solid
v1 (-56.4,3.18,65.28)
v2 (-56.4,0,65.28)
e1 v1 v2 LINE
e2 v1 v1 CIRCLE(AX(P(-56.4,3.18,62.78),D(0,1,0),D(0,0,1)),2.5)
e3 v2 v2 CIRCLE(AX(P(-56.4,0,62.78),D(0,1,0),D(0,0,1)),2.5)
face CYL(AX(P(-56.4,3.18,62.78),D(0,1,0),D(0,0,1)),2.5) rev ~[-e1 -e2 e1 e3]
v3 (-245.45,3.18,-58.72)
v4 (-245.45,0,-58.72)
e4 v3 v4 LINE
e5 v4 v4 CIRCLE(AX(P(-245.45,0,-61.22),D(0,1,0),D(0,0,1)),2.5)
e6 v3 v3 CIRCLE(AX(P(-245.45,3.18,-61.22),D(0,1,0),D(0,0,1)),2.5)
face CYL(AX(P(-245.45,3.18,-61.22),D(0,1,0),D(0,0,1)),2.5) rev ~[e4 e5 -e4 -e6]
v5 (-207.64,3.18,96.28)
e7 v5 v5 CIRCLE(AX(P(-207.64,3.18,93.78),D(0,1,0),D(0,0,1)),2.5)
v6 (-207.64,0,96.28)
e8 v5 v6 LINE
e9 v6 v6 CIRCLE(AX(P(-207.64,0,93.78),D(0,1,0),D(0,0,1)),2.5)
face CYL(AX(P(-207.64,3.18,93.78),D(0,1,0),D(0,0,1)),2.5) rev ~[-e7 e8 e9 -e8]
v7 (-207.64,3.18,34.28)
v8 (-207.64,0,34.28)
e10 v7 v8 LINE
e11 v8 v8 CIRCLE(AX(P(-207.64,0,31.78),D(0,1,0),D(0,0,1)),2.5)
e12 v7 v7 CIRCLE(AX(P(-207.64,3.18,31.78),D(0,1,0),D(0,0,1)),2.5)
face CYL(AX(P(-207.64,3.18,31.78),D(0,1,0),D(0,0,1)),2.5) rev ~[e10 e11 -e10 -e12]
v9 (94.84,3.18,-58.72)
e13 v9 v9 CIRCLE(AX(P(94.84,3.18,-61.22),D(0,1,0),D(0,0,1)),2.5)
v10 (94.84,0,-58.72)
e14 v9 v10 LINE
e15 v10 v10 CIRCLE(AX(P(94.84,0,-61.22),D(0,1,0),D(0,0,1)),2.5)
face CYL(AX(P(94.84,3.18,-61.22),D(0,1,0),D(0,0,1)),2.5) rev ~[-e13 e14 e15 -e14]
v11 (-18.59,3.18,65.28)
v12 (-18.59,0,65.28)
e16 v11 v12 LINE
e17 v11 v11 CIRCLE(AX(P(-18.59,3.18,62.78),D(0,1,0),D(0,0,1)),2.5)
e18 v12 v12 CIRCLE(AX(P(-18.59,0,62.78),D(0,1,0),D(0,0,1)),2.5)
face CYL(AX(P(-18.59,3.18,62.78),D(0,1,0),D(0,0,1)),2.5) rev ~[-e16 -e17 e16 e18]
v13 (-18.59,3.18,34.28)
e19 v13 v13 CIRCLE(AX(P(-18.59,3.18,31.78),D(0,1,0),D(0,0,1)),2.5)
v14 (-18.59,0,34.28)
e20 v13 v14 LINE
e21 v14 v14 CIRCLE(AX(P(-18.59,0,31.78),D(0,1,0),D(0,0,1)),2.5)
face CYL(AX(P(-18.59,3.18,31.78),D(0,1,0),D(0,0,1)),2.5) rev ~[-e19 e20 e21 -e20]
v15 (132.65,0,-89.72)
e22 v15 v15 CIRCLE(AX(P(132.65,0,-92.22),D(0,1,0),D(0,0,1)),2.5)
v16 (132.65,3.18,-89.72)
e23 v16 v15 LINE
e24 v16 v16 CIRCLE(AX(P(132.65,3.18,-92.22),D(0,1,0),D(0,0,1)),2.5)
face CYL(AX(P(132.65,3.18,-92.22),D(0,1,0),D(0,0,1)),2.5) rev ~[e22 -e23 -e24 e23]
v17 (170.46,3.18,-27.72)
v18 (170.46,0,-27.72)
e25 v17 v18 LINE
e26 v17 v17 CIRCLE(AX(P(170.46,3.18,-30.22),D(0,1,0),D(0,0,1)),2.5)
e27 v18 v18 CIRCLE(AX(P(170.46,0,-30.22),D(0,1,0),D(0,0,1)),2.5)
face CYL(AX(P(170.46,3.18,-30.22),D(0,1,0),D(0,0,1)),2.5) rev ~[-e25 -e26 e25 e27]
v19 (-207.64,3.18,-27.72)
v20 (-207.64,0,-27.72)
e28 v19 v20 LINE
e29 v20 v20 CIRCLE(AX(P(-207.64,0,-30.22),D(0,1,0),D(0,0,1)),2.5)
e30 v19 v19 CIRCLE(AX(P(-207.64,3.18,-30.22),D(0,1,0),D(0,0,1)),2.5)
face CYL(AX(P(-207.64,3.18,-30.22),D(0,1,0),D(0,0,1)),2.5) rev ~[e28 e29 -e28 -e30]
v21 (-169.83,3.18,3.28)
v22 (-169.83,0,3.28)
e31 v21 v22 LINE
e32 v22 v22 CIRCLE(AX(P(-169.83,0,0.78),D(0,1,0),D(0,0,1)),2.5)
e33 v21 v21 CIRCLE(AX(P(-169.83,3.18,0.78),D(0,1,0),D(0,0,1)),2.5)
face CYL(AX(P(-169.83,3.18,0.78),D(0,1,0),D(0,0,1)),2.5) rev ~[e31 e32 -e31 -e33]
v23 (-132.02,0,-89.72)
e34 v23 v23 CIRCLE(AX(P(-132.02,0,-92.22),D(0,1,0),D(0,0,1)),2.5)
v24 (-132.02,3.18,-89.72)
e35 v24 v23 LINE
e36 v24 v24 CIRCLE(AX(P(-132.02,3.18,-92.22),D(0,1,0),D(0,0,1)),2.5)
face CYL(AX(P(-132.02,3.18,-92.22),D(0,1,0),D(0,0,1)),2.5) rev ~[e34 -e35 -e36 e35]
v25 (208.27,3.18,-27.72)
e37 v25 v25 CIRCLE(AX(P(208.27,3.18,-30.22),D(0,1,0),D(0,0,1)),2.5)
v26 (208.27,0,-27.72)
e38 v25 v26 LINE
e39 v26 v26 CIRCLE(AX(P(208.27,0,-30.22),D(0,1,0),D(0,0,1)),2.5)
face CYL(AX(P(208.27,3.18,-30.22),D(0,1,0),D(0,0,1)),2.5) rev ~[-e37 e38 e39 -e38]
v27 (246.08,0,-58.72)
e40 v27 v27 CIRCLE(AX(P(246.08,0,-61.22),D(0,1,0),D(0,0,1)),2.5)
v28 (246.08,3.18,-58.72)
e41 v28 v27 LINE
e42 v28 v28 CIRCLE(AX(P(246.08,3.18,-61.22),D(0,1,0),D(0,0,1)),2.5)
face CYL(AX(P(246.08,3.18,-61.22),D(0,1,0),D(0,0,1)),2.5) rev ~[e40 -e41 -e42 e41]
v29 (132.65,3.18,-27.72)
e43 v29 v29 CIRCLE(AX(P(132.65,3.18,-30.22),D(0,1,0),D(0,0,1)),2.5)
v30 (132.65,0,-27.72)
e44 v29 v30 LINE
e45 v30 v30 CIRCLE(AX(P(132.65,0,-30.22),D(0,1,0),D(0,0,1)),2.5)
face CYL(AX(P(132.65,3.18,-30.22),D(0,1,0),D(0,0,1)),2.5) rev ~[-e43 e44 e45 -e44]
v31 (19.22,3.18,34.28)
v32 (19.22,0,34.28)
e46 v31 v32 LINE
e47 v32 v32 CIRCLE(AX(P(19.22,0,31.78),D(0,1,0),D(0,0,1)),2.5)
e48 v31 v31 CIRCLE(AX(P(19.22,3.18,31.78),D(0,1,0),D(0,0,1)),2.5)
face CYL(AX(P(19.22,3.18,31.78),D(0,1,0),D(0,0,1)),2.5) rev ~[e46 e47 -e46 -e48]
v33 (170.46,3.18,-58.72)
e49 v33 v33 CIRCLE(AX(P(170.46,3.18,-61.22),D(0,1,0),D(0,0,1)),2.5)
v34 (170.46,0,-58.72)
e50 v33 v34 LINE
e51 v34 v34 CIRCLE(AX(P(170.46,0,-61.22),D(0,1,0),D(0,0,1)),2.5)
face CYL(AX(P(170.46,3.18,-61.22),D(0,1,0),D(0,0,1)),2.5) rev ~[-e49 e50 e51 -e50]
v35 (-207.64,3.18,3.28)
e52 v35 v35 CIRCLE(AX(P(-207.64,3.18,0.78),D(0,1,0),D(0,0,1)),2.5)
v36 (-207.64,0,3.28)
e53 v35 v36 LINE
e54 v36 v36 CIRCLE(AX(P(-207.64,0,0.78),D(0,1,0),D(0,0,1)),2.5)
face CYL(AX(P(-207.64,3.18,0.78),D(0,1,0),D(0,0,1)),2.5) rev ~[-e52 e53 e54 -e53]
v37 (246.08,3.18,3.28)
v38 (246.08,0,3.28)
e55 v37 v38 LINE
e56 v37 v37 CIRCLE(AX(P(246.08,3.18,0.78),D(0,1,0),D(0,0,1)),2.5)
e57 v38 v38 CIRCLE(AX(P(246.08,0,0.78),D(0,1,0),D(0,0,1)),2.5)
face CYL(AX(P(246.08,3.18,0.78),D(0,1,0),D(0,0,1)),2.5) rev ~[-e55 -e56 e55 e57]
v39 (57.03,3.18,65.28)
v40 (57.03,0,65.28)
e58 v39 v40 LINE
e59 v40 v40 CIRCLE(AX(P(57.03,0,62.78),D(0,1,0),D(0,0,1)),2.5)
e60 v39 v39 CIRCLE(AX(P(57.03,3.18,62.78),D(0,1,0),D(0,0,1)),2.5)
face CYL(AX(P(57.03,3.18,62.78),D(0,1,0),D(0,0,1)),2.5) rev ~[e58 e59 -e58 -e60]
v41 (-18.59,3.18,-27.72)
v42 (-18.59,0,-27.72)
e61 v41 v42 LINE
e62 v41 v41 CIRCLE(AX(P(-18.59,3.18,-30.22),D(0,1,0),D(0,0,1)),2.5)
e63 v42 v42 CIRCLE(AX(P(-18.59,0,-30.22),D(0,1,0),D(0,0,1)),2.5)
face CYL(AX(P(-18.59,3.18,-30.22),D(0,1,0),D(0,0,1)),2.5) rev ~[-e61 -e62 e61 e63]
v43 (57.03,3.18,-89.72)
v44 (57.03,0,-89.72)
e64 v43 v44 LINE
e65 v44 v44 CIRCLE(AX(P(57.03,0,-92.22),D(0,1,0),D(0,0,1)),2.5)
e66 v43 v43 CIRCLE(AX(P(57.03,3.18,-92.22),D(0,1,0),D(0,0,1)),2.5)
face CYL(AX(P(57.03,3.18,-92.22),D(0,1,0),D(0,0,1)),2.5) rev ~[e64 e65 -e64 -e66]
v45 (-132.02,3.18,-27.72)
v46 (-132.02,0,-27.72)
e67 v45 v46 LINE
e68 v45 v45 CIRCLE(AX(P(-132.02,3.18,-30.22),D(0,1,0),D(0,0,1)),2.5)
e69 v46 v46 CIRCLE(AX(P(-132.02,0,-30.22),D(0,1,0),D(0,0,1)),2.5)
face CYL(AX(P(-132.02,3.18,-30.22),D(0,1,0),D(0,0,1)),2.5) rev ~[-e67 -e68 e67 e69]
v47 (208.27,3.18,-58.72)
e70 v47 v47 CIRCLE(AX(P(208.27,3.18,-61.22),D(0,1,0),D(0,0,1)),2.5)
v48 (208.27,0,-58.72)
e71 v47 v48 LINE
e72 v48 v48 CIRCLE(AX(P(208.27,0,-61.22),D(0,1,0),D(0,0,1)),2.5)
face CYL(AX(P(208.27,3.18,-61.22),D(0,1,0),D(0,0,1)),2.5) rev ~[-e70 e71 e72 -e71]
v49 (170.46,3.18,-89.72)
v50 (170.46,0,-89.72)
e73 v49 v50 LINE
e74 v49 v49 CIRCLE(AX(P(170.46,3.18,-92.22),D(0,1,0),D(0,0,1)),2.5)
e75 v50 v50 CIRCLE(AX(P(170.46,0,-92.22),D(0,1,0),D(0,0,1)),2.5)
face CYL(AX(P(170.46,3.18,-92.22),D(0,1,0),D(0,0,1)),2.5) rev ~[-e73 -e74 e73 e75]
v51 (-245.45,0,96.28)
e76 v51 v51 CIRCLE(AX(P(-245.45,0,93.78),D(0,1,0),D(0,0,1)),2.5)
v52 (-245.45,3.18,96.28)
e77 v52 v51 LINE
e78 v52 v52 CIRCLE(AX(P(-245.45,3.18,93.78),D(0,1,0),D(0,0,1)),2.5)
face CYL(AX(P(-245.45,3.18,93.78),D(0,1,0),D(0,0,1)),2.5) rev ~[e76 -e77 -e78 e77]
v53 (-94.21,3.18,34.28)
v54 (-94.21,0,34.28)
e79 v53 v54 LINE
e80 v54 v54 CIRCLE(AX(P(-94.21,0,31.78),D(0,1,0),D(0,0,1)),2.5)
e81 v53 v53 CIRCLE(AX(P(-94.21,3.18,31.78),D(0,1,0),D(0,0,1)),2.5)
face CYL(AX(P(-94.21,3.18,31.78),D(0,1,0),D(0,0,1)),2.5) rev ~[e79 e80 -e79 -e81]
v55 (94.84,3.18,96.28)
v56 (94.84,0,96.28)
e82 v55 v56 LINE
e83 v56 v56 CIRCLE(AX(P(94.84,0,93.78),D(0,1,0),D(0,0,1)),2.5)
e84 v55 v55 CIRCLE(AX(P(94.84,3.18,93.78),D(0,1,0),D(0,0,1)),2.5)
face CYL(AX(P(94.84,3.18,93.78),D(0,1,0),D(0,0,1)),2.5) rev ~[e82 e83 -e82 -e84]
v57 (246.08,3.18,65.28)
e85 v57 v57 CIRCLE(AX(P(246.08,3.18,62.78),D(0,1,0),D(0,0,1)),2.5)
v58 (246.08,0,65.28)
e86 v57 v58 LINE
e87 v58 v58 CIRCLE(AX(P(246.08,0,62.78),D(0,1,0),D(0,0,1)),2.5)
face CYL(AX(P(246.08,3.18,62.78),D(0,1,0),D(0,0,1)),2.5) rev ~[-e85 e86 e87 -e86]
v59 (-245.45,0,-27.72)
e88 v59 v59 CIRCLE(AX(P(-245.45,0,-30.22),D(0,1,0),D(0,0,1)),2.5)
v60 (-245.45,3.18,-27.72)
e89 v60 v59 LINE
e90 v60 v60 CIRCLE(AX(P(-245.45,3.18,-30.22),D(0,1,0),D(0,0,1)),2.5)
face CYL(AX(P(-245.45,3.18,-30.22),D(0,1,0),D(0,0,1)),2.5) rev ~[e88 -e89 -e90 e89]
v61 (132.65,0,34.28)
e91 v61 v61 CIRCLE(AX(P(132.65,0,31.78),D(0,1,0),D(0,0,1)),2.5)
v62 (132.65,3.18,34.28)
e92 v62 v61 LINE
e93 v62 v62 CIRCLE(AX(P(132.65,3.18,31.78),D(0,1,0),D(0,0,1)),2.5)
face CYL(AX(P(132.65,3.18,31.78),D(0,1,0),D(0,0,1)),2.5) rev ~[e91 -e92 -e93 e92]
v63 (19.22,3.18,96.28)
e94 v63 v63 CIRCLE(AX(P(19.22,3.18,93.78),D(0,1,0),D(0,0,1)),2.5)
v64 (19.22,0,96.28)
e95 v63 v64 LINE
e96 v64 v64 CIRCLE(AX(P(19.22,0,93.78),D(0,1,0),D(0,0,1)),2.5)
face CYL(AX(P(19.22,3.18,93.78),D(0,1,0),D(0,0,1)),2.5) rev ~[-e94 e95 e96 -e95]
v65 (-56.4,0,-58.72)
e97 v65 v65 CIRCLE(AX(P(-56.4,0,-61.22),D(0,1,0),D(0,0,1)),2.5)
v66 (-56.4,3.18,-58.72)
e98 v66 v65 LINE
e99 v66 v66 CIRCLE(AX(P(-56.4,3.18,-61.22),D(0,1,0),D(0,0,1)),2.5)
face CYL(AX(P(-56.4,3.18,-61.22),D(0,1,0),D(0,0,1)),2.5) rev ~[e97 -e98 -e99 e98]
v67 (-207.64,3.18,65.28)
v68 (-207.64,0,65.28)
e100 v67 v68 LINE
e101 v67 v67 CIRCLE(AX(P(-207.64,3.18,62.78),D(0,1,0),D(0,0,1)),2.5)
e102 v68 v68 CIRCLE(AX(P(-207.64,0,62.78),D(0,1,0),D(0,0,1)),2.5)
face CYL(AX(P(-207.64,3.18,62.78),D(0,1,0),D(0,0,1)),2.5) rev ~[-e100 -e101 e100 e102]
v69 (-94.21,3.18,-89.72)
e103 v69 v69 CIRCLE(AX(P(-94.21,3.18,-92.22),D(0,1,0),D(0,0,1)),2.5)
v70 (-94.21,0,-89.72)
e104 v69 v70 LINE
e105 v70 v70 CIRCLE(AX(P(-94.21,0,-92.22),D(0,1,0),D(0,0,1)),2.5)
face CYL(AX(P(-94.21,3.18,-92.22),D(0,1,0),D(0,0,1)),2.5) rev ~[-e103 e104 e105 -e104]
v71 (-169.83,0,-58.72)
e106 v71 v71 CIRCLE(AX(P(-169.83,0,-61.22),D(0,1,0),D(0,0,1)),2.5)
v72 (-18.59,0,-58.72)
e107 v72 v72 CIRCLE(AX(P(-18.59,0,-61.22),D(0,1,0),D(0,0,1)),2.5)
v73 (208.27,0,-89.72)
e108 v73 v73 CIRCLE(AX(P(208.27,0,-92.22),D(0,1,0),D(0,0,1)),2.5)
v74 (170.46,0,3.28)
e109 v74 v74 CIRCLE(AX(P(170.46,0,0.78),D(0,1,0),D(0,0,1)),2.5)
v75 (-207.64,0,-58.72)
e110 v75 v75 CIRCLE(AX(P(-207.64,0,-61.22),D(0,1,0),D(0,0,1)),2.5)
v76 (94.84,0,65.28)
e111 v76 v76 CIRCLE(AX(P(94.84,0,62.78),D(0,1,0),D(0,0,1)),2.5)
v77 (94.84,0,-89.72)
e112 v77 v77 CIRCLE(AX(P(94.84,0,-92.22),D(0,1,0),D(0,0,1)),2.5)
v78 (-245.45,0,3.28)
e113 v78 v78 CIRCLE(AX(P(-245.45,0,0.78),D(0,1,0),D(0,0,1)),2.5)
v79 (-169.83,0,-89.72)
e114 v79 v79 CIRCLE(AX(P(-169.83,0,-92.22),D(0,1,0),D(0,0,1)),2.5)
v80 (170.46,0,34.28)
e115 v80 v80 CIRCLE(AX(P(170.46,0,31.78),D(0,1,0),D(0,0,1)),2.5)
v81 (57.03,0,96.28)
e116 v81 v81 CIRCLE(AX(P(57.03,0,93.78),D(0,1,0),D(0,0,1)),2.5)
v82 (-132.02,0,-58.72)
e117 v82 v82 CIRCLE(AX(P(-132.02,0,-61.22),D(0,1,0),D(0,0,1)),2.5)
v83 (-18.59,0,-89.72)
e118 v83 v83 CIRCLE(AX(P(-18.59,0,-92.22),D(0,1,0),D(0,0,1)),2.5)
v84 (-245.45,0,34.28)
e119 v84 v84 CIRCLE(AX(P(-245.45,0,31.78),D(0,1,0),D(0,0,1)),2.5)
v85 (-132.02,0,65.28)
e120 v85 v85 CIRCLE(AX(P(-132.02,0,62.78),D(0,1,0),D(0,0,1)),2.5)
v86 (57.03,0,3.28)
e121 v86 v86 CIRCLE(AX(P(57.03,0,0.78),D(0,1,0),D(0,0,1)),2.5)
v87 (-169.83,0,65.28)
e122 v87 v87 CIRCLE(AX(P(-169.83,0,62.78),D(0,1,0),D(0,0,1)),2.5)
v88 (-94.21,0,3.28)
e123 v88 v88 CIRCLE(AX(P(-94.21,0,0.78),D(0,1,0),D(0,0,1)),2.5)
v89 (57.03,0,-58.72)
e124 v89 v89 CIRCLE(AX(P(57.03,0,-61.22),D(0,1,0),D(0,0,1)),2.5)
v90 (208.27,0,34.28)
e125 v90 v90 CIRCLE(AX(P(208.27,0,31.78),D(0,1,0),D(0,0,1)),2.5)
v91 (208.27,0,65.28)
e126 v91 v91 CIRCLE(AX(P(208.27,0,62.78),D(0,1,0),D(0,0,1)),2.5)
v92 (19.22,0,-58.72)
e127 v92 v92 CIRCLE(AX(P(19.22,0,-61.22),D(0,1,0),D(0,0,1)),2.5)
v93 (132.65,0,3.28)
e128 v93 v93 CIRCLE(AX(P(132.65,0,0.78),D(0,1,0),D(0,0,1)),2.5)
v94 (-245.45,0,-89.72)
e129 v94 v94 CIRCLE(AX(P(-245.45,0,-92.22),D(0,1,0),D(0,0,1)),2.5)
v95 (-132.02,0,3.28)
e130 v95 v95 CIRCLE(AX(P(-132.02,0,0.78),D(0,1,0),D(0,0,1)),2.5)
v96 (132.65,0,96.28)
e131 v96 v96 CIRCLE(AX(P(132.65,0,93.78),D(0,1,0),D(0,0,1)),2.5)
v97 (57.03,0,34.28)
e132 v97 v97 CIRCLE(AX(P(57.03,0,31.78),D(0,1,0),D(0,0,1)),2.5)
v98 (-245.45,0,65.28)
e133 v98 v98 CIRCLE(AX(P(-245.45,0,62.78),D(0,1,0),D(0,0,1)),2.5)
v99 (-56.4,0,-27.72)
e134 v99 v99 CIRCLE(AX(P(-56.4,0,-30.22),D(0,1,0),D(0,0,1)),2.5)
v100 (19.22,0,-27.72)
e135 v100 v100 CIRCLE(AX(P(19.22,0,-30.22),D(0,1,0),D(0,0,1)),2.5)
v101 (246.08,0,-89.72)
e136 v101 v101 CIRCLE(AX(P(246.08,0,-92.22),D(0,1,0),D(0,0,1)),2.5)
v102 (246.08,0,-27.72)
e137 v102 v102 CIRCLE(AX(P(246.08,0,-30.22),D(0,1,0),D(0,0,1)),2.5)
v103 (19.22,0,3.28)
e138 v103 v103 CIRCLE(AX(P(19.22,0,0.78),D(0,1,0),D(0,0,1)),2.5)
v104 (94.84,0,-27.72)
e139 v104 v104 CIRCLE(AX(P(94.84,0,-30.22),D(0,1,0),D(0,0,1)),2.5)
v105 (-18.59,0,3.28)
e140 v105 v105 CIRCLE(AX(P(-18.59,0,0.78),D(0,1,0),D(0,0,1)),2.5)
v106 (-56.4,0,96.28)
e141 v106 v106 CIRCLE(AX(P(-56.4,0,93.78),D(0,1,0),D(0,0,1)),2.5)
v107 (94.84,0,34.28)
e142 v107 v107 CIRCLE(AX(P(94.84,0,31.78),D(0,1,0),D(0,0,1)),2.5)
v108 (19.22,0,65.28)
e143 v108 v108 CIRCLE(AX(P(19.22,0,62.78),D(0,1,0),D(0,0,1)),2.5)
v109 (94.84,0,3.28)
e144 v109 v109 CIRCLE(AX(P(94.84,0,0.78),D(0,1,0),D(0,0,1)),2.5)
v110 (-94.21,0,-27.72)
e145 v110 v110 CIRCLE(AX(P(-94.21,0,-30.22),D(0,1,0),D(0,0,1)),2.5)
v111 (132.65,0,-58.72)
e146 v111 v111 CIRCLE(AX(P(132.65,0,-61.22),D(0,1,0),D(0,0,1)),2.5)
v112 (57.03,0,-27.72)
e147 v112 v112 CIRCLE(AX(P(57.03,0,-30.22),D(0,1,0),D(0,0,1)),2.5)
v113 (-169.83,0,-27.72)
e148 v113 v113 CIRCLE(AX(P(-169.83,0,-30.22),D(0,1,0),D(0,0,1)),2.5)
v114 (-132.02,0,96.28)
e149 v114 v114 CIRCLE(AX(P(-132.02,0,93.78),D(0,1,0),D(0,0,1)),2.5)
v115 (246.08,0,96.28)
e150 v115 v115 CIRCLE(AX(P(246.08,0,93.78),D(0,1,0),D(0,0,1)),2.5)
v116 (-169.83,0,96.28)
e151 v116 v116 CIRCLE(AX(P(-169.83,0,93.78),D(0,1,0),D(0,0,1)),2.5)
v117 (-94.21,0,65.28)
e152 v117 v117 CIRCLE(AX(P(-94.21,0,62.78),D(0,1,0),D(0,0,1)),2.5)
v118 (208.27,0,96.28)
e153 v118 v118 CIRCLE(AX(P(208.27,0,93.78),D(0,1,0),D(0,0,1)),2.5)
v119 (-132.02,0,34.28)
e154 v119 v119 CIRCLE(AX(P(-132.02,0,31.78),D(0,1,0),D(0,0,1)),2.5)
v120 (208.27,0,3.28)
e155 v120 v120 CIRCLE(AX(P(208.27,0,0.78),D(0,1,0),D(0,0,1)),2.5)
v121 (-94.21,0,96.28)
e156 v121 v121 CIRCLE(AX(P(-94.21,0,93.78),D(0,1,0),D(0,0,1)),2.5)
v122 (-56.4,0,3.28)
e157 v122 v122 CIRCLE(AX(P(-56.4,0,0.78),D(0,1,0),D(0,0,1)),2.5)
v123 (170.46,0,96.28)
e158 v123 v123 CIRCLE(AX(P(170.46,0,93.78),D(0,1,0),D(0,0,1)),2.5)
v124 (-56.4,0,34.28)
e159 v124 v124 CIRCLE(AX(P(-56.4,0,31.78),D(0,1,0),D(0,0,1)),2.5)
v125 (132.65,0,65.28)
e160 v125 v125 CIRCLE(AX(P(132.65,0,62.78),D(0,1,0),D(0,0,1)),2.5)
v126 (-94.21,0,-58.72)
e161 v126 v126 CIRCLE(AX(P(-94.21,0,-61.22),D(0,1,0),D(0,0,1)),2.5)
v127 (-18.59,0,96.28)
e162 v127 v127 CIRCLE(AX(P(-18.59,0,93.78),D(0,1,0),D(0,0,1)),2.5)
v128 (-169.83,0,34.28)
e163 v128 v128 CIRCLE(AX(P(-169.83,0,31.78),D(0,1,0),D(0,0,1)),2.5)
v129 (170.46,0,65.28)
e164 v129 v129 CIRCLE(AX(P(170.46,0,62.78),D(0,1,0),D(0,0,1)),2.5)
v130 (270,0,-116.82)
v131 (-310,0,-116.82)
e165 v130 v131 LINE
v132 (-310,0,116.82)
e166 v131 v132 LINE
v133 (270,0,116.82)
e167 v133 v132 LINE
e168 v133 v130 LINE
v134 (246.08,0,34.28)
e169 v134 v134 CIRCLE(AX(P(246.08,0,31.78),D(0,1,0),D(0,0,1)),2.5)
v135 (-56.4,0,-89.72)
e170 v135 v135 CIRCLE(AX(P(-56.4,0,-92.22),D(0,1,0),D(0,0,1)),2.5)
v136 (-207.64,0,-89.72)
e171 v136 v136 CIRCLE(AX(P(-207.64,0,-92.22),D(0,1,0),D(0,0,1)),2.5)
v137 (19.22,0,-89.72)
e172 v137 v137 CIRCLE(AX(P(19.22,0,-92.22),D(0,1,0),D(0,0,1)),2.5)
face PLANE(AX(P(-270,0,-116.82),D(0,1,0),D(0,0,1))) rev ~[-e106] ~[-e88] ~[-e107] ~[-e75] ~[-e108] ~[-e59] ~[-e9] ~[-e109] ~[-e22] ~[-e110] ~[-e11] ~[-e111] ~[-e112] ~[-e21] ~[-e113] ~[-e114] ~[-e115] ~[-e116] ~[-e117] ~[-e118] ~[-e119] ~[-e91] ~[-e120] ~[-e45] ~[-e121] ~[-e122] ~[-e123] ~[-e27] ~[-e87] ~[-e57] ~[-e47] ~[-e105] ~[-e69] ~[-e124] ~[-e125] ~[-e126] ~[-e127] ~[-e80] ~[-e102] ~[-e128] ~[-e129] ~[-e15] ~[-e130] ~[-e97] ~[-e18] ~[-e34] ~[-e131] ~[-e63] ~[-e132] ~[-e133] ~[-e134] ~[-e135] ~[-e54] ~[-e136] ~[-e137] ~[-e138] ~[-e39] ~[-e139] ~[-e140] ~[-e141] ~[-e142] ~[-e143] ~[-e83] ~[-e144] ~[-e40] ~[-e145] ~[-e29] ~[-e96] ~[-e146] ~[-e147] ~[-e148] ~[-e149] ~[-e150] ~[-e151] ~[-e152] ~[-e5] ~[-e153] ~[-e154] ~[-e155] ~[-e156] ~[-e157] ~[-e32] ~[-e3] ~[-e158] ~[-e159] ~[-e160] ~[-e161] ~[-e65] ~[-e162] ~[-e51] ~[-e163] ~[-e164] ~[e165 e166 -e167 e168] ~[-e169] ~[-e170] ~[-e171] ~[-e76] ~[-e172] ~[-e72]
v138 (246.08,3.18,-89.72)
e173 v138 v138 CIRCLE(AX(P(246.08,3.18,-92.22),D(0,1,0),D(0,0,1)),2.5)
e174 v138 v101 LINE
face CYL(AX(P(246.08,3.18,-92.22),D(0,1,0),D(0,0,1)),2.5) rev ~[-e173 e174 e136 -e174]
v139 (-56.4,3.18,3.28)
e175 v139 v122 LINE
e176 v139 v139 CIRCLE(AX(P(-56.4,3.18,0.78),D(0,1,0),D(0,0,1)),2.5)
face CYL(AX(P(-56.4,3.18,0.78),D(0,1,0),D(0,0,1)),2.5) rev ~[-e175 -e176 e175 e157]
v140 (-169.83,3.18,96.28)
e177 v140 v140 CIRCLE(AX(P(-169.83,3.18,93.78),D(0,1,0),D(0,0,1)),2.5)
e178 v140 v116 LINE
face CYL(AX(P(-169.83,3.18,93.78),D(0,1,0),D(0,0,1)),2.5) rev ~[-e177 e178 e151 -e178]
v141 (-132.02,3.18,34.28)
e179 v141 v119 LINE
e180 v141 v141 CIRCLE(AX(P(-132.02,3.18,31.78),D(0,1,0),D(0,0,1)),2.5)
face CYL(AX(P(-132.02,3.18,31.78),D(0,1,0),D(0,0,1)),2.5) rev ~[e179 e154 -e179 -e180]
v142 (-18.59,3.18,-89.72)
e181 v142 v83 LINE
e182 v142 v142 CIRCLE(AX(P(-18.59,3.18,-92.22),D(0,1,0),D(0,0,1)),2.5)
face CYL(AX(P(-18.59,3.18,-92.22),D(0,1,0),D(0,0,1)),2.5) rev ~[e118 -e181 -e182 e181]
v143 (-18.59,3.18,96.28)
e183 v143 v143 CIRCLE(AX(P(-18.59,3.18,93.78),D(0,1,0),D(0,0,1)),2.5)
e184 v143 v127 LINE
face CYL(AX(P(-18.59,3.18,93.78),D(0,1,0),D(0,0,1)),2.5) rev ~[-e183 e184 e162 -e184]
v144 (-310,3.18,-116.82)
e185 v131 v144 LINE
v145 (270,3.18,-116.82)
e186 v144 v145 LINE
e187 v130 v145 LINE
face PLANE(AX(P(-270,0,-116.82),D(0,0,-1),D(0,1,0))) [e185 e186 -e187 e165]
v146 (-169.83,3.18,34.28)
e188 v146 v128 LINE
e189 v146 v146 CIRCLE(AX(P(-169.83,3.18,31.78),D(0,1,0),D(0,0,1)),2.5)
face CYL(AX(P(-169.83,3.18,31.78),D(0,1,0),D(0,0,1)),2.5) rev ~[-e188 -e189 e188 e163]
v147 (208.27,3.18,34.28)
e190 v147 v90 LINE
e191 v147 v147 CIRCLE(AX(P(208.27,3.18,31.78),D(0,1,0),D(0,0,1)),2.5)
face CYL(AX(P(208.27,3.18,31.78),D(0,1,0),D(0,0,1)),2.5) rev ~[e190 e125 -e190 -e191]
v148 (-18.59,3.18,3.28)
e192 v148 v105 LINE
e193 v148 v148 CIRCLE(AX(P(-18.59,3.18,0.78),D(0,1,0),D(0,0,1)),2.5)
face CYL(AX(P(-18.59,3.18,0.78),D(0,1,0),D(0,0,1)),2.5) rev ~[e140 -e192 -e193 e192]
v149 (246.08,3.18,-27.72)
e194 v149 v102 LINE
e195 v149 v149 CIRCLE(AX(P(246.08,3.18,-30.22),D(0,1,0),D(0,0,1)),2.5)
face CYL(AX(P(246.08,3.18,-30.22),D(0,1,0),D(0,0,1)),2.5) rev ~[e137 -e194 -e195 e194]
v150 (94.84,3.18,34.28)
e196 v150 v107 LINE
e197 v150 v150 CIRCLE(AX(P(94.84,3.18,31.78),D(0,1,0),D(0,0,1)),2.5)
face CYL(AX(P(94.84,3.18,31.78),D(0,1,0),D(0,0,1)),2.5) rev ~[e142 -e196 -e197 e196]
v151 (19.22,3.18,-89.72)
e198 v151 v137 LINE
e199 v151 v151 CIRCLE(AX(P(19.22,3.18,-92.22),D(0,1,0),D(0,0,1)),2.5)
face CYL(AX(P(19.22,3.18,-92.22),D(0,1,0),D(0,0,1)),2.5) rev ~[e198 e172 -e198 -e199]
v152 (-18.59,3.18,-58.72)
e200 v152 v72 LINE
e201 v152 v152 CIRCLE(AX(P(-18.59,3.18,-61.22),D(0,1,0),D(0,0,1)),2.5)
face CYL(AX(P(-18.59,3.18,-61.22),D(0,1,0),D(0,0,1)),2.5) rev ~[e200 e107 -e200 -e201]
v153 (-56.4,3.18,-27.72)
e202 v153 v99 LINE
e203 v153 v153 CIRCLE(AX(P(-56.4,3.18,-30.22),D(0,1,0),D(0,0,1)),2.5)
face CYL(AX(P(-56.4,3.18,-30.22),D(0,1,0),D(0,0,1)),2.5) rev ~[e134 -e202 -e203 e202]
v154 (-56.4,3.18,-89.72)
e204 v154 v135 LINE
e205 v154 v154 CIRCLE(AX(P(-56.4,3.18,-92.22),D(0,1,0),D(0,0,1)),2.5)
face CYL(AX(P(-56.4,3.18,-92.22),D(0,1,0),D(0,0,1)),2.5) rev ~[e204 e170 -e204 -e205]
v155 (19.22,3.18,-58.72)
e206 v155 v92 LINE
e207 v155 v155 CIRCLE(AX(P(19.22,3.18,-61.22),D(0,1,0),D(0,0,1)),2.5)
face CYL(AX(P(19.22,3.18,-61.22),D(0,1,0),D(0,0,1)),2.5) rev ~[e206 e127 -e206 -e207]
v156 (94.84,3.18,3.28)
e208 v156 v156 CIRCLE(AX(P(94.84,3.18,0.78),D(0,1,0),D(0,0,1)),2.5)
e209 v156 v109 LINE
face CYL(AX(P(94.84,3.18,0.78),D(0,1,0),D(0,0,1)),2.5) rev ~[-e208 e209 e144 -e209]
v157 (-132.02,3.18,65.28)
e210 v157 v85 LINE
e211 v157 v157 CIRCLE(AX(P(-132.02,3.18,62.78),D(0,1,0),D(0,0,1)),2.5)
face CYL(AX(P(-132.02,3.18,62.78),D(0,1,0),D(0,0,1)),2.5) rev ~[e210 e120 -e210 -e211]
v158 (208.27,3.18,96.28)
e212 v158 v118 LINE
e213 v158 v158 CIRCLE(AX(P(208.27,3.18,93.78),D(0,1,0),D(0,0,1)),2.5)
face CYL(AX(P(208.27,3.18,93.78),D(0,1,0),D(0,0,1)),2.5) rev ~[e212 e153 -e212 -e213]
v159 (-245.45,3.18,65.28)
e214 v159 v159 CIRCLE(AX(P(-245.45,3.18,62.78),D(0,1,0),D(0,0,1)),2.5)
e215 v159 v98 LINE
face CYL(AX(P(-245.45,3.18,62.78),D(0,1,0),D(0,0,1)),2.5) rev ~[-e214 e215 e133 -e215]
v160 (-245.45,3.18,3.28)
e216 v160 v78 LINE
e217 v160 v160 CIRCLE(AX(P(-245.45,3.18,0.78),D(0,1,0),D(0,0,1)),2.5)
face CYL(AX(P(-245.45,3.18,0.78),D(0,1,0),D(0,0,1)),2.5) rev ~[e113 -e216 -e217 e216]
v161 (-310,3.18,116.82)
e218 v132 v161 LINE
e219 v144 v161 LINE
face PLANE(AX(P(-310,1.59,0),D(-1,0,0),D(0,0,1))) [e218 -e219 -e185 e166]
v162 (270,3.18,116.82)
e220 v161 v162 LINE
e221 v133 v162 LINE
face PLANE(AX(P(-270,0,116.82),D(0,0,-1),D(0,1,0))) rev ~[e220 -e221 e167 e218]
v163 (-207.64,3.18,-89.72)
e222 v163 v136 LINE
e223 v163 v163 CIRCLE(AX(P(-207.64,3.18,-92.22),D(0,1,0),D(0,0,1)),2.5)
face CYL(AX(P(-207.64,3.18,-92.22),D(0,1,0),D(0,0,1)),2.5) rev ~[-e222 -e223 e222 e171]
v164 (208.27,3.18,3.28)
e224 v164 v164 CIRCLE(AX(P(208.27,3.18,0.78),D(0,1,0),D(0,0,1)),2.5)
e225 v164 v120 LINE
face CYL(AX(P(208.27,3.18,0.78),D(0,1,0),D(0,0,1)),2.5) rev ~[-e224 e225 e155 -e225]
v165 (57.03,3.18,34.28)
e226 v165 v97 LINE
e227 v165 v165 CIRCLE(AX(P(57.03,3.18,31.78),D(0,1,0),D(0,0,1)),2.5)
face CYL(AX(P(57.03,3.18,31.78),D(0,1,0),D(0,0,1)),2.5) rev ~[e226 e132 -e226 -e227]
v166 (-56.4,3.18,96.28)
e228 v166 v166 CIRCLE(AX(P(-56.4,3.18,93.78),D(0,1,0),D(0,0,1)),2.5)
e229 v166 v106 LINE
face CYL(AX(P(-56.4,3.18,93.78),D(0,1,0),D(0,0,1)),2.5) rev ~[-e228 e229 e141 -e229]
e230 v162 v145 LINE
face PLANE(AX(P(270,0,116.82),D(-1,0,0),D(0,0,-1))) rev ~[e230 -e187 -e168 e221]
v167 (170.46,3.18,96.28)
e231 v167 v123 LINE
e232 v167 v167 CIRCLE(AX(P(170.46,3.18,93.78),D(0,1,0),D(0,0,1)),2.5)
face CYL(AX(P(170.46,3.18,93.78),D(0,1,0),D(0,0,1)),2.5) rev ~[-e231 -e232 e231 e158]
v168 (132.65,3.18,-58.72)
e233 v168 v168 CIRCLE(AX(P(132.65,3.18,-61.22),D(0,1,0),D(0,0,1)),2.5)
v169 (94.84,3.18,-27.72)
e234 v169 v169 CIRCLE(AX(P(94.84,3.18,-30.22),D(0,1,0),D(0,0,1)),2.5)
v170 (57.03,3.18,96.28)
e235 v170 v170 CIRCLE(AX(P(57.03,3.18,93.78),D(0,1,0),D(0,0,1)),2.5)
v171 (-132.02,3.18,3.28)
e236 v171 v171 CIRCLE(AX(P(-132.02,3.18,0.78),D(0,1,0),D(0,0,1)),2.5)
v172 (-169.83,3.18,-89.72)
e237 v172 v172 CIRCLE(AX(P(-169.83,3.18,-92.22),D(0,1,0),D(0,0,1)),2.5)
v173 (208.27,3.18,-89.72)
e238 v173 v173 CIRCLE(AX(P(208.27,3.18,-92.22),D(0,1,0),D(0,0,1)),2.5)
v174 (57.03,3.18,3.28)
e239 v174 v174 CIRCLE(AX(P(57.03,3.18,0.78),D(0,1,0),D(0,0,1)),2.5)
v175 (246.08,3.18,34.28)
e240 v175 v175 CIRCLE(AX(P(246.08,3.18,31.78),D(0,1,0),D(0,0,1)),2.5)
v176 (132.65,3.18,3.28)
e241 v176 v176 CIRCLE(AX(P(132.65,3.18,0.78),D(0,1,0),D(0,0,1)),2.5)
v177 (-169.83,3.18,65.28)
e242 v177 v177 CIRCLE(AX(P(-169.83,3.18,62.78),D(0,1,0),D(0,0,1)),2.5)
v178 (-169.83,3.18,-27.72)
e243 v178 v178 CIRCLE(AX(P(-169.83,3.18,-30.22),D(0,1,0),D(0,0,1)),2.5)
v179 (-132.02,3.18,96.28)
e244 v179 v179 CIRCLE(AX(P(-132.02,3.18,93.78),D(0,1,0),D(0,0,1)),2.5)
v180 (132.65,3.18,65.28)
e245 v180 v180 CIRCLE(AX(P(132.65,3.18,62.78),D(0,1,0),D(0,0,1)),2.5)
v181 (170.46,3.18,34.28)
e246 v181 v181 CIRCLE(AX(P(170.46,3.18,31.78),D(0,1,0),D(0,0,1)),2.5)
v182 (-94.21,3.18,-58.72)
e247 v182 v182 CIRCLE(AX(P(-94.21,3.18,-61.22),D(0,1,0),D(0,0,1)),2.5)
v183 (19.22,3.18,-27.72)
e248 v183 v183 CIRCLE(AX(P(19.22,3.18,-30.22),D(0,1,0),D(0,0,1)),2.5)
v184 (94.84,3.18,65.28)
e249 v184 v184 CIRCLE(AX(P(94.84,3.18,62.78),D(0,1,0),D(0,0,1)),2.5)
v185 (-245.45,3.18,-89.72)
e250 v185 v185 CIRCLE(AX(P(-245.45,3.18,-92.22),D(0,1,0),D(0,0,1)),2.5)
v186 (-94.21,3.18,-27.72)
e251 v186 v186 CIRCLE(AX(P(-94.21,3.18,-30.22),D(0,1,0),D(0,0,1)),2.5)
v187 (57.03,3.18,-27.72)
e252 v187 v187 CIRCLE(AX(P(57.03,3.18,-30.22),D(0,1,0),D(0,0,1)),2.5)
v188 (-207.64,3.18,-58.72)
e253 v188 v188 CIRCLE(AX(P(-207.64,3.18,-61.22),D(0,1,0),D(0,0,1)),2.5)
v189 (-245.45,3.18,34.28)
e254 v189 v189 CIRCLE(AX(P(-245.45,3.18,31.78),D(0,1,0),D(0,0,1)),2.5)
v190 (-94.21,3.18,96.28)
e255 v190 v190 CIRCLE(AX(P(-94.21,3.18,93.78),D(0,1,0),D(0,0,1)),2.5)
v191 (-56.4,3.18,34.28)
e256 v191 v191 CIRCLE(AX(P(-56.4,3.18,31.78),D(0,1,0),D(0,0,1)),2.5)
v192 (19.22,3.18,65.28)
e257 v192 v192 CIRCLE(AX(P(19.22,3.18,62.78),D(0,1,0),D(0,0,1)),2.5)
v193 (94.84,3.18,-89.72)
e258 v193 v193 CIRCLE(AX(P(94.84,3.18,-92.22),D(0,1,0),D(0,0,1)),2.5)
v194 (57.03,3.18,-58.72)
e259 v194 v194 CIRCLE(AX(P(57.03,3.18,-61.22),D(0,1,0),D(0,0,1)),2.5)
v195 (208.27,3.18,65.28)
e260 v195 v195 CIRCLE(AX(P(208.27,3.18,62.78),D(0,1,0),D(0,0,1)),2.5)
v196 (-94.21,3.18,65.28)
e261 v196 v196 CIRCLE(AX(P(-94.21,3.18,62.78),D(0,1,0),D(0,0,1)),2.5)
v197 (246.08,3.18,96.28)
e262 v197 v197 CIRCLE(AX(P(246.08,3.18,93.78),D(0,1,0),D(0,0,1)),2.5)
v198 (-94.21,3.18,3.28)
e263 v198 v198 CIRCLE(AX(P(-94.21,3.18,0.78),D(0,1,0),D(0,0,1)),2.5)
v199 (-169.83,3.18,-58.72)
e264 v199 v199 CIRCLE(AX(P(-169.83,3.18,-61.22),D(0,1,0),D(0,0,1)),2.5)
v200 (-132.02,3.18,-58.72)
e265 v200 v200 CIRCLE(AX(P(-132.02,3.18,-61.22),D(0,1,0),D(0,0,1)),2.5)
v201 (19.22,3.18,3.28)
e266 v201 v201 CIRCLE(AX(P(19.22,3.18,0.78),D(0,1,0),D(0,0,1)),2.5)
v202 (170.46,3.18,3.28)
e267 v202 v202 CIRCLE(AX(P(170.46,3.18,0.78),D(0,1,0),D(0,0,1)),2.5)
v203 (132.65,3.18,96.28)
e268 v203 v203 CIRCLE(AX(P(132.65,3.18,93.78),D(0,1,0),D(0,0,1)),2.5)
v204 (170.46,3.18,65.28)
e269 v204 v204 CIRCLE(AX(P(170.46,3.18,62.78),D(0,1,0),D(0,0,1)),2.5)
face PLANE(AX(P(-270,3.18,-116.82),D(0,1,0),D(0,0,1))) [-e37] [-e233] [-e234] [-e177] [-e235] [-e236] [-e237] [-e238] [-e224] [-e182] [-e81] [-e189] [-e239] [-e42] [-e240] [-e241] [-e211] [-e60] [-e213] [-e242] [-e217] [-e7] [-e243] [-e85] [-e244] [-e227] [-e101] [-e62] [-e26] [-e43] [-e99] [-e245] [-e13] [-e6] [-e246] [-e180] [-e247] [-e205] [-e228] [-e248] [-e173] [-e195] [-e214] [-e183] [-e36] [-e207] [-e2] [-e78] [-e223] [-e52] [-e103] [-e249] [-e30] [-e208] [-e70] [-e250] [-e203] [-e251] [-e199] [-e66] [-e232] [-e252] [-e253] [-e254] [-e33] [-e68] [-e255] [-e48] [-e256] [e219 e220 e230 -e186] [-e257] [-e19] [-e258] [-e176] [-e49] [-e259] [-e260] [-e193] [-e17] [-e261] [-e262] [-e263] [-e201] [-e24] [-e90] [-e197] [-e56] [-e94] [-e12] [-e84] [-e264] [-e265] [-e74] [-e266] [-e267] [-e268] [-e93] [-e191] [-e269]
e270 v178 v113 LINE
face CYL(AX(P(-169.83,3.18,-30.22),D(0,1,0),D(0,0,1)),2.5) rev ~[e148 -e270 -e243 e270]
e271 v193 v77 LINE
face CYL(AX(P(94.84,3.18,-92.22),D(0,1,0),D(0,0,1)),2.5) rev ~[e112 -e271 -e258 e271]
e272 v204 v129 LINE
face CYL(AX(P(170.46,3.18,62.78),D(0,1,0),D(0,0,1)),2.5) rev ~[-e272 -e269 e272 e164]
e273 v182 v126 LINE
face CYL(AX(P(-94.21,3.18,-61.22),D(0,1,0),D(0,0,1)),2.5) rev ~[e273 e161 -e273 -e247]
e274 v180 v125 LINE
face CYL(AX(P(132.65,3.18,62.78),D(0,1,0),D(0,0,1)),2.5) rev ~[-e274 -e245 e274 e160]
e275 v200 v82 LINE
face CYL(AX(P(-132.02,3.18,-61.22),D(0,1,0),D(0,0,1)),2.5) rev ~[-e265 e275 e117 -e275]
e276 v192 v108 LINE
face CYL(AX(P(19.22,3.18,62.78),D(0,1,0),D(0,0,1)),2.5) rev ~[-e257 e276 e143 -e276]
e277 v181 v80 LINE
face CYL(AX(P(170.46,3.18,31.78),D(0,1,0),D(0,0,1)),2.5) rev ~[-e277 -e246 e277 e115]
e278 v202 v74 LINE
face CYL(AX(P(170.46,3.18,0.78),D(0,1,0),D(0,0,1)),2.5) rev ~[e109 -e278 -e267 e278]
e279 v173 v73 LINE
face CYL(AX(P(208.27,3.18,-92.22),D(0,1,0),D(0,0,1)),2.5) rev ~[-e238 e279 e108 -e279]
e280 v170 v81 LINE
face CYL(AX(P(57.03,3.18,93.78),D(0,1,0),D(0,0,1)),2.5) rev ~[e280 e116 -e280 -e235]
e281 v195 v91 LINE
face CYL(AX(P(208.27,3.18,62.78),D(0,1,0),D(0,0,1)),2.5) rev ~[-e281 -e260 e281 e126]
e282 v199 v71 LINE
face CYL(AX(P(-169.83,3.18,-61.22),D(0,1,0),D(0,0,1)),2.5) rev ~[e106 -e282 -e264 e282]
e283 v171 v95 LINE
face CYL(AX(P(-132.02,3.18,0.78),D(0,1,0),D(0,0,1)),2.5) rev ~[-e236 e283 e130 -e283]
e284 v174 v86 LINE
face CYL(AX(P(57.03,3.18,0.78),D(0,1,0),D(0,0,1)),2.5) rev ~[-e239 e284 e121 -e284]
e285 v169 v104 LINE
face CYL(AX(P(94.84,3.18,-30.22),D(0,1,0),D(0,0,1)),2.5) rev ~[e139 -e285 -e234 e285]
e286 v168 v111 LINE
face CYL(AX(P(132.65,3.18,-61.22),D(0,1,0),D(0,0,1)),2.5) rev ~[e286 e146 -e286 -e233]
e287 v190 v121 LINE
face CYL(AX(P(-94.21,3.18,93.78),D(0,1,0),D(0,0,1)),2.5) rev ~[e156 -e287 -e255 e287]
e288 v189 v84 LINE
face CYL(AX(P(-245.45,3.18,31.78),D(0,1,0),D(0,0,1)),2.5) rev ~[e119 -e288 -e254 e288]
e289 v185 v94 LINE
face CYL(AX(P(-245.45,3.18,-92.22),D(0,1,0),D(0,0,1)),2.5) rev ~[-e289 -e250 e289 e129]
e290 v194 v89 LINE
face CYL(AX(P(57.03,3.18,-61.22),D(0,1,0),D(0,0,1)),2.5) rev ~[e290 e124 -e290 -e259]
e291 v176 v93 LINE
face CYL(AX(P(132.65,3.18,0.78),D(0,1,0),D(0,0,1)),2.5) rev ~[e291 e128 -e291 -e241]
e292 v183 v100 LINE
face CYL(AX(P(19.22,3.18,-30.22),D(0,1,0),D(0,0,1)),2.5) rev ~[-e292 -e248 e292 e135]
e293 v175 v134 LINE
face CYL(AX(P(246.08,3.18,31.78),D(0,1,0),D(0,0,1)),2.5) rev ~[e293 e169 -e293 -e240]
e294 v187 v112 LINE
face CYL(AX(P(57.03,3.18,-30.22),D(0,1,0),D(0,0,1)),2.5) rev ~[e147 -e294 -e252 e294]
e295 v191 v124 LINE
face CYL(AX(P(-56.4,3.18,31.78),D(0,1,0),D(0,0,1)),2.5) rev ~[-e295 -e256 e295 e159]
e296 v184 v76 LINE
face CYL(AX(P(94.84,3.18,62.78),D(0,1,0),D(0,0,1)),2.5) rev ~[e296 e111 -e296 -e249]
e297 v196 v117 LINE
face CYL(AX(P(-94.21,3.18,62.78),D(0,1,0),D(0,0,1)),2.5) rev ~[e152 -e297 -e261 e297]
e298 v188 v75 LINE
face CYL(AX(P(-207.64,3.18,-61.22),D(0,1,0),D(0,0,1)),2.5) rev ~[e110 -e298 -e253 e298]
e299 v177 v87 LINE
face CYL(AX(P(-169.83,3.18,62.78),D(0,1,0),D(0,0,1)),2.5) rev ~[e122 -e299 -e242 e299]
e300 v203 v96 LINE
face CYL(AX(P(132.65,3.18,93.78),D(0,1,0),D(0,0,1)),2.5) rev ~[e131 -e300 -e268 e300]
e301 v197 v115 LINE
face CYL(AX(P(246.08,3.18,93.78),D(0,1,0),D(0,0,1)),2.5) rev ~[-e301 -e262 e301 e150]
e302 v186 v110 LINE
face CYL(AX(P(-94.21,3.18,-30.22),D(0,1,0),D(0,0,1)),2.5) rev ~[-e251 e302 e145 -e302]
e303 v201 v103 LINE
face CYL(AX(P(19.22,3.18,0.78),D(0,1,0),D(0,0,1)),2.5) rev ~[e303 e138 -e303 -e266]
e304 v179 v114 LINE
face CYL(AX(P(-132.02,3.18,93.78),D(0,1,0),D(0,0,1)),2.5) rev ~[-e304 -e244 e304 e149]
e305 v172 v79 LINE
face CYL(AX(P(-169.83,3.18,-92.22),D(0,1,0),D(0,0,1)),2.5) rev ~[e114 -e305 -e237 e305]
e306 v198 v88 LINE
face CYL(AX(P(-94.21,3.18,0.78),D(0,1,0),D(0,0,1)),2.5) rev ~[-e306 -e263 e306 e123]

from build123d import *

# Parameters (mm, degrees)
SKETCH1_W            = 540
SKETCH1_H            = 233.64
BOSS_EXTRUDE1_DEPTH  = 3.18
CUT_EXTRUDE1_REACH   = 296.206
SKETCH2_R            = 2.5
LPATTERN1_COUNT      = 14
LPATTERN1_PITCH      = 37.81
LPATTERN1_COUNT_DIR2 = 7
LPATTERN1_PITCH_DIR2 = 31
SKETCH4_W            = 233.64
SKETCH4_H            = 3.18
BOSS_EXTRUDE2_DEPTH  = 40


with BuildPart() as part:
    # Sketch1 → Boss-Extrude1 (new body)
    with BuildSketch(Plane(origin=(0, 0, 0), x_dir=(1, 0, 0), z_dir=(0, 1, 0))):
        Rectangle(SKETCH1_W, SKETCH1_H)
    extrude(amount=BOSS_EXTRUDE1_DEPTH)

    # Sketch2 → Cut-Extrude1 (cut, up to next)
    with BuildSketch(Plane(origin=(0, 3.18, 0), x_dir=(1, 0, 0), z_dir=(0, 1, 0)), mode=Mode.PRIVATE) as cut_extrude1_sk1:
        with Locations(Location((-245.45, 92.22, 0), (0, 0, 270))):
            Circle(SKETCH2_R)
    cut_extrude1_tool1 = extrude(cut_extrude1_sk1.sketch, amount=-CUT_EXTRUDE1_REACH, mode=Mode.PRIVATE) & part.part
    cut_extrude1 = cut_extrude1_tool1.solids().sort_by_distance((-245.45, 3.18, -92.22))[0]
    add(cut_extrude1, mode=Mode.SUBTRACT)

    # LPattern1: Cut-Extrude1 14 × 7
    with Locations(*[(i * LPATTERN1_PITCH, 0, j * LPATTERN1_PITCH_DIR2) for i in range(LPATTERN1_COUNT) for j in range(LPATTERN1_COUNT_DIR2) if (i, j) != (0, 0)]):
        add(cut_extrude1, mode=Mode.SUBTRACT)

    # Sketch4 → Boss-Extrude2 (add)
    with BuildSketch(Plane.ZY.offset(270)):
        with Locations((0, 1.59)):
            Rectangle(SKETCH4_W, SKETCH4_H)
    extrude(amount=BOSS_EXTRUDE2_DEPTH)


solid = part.part
